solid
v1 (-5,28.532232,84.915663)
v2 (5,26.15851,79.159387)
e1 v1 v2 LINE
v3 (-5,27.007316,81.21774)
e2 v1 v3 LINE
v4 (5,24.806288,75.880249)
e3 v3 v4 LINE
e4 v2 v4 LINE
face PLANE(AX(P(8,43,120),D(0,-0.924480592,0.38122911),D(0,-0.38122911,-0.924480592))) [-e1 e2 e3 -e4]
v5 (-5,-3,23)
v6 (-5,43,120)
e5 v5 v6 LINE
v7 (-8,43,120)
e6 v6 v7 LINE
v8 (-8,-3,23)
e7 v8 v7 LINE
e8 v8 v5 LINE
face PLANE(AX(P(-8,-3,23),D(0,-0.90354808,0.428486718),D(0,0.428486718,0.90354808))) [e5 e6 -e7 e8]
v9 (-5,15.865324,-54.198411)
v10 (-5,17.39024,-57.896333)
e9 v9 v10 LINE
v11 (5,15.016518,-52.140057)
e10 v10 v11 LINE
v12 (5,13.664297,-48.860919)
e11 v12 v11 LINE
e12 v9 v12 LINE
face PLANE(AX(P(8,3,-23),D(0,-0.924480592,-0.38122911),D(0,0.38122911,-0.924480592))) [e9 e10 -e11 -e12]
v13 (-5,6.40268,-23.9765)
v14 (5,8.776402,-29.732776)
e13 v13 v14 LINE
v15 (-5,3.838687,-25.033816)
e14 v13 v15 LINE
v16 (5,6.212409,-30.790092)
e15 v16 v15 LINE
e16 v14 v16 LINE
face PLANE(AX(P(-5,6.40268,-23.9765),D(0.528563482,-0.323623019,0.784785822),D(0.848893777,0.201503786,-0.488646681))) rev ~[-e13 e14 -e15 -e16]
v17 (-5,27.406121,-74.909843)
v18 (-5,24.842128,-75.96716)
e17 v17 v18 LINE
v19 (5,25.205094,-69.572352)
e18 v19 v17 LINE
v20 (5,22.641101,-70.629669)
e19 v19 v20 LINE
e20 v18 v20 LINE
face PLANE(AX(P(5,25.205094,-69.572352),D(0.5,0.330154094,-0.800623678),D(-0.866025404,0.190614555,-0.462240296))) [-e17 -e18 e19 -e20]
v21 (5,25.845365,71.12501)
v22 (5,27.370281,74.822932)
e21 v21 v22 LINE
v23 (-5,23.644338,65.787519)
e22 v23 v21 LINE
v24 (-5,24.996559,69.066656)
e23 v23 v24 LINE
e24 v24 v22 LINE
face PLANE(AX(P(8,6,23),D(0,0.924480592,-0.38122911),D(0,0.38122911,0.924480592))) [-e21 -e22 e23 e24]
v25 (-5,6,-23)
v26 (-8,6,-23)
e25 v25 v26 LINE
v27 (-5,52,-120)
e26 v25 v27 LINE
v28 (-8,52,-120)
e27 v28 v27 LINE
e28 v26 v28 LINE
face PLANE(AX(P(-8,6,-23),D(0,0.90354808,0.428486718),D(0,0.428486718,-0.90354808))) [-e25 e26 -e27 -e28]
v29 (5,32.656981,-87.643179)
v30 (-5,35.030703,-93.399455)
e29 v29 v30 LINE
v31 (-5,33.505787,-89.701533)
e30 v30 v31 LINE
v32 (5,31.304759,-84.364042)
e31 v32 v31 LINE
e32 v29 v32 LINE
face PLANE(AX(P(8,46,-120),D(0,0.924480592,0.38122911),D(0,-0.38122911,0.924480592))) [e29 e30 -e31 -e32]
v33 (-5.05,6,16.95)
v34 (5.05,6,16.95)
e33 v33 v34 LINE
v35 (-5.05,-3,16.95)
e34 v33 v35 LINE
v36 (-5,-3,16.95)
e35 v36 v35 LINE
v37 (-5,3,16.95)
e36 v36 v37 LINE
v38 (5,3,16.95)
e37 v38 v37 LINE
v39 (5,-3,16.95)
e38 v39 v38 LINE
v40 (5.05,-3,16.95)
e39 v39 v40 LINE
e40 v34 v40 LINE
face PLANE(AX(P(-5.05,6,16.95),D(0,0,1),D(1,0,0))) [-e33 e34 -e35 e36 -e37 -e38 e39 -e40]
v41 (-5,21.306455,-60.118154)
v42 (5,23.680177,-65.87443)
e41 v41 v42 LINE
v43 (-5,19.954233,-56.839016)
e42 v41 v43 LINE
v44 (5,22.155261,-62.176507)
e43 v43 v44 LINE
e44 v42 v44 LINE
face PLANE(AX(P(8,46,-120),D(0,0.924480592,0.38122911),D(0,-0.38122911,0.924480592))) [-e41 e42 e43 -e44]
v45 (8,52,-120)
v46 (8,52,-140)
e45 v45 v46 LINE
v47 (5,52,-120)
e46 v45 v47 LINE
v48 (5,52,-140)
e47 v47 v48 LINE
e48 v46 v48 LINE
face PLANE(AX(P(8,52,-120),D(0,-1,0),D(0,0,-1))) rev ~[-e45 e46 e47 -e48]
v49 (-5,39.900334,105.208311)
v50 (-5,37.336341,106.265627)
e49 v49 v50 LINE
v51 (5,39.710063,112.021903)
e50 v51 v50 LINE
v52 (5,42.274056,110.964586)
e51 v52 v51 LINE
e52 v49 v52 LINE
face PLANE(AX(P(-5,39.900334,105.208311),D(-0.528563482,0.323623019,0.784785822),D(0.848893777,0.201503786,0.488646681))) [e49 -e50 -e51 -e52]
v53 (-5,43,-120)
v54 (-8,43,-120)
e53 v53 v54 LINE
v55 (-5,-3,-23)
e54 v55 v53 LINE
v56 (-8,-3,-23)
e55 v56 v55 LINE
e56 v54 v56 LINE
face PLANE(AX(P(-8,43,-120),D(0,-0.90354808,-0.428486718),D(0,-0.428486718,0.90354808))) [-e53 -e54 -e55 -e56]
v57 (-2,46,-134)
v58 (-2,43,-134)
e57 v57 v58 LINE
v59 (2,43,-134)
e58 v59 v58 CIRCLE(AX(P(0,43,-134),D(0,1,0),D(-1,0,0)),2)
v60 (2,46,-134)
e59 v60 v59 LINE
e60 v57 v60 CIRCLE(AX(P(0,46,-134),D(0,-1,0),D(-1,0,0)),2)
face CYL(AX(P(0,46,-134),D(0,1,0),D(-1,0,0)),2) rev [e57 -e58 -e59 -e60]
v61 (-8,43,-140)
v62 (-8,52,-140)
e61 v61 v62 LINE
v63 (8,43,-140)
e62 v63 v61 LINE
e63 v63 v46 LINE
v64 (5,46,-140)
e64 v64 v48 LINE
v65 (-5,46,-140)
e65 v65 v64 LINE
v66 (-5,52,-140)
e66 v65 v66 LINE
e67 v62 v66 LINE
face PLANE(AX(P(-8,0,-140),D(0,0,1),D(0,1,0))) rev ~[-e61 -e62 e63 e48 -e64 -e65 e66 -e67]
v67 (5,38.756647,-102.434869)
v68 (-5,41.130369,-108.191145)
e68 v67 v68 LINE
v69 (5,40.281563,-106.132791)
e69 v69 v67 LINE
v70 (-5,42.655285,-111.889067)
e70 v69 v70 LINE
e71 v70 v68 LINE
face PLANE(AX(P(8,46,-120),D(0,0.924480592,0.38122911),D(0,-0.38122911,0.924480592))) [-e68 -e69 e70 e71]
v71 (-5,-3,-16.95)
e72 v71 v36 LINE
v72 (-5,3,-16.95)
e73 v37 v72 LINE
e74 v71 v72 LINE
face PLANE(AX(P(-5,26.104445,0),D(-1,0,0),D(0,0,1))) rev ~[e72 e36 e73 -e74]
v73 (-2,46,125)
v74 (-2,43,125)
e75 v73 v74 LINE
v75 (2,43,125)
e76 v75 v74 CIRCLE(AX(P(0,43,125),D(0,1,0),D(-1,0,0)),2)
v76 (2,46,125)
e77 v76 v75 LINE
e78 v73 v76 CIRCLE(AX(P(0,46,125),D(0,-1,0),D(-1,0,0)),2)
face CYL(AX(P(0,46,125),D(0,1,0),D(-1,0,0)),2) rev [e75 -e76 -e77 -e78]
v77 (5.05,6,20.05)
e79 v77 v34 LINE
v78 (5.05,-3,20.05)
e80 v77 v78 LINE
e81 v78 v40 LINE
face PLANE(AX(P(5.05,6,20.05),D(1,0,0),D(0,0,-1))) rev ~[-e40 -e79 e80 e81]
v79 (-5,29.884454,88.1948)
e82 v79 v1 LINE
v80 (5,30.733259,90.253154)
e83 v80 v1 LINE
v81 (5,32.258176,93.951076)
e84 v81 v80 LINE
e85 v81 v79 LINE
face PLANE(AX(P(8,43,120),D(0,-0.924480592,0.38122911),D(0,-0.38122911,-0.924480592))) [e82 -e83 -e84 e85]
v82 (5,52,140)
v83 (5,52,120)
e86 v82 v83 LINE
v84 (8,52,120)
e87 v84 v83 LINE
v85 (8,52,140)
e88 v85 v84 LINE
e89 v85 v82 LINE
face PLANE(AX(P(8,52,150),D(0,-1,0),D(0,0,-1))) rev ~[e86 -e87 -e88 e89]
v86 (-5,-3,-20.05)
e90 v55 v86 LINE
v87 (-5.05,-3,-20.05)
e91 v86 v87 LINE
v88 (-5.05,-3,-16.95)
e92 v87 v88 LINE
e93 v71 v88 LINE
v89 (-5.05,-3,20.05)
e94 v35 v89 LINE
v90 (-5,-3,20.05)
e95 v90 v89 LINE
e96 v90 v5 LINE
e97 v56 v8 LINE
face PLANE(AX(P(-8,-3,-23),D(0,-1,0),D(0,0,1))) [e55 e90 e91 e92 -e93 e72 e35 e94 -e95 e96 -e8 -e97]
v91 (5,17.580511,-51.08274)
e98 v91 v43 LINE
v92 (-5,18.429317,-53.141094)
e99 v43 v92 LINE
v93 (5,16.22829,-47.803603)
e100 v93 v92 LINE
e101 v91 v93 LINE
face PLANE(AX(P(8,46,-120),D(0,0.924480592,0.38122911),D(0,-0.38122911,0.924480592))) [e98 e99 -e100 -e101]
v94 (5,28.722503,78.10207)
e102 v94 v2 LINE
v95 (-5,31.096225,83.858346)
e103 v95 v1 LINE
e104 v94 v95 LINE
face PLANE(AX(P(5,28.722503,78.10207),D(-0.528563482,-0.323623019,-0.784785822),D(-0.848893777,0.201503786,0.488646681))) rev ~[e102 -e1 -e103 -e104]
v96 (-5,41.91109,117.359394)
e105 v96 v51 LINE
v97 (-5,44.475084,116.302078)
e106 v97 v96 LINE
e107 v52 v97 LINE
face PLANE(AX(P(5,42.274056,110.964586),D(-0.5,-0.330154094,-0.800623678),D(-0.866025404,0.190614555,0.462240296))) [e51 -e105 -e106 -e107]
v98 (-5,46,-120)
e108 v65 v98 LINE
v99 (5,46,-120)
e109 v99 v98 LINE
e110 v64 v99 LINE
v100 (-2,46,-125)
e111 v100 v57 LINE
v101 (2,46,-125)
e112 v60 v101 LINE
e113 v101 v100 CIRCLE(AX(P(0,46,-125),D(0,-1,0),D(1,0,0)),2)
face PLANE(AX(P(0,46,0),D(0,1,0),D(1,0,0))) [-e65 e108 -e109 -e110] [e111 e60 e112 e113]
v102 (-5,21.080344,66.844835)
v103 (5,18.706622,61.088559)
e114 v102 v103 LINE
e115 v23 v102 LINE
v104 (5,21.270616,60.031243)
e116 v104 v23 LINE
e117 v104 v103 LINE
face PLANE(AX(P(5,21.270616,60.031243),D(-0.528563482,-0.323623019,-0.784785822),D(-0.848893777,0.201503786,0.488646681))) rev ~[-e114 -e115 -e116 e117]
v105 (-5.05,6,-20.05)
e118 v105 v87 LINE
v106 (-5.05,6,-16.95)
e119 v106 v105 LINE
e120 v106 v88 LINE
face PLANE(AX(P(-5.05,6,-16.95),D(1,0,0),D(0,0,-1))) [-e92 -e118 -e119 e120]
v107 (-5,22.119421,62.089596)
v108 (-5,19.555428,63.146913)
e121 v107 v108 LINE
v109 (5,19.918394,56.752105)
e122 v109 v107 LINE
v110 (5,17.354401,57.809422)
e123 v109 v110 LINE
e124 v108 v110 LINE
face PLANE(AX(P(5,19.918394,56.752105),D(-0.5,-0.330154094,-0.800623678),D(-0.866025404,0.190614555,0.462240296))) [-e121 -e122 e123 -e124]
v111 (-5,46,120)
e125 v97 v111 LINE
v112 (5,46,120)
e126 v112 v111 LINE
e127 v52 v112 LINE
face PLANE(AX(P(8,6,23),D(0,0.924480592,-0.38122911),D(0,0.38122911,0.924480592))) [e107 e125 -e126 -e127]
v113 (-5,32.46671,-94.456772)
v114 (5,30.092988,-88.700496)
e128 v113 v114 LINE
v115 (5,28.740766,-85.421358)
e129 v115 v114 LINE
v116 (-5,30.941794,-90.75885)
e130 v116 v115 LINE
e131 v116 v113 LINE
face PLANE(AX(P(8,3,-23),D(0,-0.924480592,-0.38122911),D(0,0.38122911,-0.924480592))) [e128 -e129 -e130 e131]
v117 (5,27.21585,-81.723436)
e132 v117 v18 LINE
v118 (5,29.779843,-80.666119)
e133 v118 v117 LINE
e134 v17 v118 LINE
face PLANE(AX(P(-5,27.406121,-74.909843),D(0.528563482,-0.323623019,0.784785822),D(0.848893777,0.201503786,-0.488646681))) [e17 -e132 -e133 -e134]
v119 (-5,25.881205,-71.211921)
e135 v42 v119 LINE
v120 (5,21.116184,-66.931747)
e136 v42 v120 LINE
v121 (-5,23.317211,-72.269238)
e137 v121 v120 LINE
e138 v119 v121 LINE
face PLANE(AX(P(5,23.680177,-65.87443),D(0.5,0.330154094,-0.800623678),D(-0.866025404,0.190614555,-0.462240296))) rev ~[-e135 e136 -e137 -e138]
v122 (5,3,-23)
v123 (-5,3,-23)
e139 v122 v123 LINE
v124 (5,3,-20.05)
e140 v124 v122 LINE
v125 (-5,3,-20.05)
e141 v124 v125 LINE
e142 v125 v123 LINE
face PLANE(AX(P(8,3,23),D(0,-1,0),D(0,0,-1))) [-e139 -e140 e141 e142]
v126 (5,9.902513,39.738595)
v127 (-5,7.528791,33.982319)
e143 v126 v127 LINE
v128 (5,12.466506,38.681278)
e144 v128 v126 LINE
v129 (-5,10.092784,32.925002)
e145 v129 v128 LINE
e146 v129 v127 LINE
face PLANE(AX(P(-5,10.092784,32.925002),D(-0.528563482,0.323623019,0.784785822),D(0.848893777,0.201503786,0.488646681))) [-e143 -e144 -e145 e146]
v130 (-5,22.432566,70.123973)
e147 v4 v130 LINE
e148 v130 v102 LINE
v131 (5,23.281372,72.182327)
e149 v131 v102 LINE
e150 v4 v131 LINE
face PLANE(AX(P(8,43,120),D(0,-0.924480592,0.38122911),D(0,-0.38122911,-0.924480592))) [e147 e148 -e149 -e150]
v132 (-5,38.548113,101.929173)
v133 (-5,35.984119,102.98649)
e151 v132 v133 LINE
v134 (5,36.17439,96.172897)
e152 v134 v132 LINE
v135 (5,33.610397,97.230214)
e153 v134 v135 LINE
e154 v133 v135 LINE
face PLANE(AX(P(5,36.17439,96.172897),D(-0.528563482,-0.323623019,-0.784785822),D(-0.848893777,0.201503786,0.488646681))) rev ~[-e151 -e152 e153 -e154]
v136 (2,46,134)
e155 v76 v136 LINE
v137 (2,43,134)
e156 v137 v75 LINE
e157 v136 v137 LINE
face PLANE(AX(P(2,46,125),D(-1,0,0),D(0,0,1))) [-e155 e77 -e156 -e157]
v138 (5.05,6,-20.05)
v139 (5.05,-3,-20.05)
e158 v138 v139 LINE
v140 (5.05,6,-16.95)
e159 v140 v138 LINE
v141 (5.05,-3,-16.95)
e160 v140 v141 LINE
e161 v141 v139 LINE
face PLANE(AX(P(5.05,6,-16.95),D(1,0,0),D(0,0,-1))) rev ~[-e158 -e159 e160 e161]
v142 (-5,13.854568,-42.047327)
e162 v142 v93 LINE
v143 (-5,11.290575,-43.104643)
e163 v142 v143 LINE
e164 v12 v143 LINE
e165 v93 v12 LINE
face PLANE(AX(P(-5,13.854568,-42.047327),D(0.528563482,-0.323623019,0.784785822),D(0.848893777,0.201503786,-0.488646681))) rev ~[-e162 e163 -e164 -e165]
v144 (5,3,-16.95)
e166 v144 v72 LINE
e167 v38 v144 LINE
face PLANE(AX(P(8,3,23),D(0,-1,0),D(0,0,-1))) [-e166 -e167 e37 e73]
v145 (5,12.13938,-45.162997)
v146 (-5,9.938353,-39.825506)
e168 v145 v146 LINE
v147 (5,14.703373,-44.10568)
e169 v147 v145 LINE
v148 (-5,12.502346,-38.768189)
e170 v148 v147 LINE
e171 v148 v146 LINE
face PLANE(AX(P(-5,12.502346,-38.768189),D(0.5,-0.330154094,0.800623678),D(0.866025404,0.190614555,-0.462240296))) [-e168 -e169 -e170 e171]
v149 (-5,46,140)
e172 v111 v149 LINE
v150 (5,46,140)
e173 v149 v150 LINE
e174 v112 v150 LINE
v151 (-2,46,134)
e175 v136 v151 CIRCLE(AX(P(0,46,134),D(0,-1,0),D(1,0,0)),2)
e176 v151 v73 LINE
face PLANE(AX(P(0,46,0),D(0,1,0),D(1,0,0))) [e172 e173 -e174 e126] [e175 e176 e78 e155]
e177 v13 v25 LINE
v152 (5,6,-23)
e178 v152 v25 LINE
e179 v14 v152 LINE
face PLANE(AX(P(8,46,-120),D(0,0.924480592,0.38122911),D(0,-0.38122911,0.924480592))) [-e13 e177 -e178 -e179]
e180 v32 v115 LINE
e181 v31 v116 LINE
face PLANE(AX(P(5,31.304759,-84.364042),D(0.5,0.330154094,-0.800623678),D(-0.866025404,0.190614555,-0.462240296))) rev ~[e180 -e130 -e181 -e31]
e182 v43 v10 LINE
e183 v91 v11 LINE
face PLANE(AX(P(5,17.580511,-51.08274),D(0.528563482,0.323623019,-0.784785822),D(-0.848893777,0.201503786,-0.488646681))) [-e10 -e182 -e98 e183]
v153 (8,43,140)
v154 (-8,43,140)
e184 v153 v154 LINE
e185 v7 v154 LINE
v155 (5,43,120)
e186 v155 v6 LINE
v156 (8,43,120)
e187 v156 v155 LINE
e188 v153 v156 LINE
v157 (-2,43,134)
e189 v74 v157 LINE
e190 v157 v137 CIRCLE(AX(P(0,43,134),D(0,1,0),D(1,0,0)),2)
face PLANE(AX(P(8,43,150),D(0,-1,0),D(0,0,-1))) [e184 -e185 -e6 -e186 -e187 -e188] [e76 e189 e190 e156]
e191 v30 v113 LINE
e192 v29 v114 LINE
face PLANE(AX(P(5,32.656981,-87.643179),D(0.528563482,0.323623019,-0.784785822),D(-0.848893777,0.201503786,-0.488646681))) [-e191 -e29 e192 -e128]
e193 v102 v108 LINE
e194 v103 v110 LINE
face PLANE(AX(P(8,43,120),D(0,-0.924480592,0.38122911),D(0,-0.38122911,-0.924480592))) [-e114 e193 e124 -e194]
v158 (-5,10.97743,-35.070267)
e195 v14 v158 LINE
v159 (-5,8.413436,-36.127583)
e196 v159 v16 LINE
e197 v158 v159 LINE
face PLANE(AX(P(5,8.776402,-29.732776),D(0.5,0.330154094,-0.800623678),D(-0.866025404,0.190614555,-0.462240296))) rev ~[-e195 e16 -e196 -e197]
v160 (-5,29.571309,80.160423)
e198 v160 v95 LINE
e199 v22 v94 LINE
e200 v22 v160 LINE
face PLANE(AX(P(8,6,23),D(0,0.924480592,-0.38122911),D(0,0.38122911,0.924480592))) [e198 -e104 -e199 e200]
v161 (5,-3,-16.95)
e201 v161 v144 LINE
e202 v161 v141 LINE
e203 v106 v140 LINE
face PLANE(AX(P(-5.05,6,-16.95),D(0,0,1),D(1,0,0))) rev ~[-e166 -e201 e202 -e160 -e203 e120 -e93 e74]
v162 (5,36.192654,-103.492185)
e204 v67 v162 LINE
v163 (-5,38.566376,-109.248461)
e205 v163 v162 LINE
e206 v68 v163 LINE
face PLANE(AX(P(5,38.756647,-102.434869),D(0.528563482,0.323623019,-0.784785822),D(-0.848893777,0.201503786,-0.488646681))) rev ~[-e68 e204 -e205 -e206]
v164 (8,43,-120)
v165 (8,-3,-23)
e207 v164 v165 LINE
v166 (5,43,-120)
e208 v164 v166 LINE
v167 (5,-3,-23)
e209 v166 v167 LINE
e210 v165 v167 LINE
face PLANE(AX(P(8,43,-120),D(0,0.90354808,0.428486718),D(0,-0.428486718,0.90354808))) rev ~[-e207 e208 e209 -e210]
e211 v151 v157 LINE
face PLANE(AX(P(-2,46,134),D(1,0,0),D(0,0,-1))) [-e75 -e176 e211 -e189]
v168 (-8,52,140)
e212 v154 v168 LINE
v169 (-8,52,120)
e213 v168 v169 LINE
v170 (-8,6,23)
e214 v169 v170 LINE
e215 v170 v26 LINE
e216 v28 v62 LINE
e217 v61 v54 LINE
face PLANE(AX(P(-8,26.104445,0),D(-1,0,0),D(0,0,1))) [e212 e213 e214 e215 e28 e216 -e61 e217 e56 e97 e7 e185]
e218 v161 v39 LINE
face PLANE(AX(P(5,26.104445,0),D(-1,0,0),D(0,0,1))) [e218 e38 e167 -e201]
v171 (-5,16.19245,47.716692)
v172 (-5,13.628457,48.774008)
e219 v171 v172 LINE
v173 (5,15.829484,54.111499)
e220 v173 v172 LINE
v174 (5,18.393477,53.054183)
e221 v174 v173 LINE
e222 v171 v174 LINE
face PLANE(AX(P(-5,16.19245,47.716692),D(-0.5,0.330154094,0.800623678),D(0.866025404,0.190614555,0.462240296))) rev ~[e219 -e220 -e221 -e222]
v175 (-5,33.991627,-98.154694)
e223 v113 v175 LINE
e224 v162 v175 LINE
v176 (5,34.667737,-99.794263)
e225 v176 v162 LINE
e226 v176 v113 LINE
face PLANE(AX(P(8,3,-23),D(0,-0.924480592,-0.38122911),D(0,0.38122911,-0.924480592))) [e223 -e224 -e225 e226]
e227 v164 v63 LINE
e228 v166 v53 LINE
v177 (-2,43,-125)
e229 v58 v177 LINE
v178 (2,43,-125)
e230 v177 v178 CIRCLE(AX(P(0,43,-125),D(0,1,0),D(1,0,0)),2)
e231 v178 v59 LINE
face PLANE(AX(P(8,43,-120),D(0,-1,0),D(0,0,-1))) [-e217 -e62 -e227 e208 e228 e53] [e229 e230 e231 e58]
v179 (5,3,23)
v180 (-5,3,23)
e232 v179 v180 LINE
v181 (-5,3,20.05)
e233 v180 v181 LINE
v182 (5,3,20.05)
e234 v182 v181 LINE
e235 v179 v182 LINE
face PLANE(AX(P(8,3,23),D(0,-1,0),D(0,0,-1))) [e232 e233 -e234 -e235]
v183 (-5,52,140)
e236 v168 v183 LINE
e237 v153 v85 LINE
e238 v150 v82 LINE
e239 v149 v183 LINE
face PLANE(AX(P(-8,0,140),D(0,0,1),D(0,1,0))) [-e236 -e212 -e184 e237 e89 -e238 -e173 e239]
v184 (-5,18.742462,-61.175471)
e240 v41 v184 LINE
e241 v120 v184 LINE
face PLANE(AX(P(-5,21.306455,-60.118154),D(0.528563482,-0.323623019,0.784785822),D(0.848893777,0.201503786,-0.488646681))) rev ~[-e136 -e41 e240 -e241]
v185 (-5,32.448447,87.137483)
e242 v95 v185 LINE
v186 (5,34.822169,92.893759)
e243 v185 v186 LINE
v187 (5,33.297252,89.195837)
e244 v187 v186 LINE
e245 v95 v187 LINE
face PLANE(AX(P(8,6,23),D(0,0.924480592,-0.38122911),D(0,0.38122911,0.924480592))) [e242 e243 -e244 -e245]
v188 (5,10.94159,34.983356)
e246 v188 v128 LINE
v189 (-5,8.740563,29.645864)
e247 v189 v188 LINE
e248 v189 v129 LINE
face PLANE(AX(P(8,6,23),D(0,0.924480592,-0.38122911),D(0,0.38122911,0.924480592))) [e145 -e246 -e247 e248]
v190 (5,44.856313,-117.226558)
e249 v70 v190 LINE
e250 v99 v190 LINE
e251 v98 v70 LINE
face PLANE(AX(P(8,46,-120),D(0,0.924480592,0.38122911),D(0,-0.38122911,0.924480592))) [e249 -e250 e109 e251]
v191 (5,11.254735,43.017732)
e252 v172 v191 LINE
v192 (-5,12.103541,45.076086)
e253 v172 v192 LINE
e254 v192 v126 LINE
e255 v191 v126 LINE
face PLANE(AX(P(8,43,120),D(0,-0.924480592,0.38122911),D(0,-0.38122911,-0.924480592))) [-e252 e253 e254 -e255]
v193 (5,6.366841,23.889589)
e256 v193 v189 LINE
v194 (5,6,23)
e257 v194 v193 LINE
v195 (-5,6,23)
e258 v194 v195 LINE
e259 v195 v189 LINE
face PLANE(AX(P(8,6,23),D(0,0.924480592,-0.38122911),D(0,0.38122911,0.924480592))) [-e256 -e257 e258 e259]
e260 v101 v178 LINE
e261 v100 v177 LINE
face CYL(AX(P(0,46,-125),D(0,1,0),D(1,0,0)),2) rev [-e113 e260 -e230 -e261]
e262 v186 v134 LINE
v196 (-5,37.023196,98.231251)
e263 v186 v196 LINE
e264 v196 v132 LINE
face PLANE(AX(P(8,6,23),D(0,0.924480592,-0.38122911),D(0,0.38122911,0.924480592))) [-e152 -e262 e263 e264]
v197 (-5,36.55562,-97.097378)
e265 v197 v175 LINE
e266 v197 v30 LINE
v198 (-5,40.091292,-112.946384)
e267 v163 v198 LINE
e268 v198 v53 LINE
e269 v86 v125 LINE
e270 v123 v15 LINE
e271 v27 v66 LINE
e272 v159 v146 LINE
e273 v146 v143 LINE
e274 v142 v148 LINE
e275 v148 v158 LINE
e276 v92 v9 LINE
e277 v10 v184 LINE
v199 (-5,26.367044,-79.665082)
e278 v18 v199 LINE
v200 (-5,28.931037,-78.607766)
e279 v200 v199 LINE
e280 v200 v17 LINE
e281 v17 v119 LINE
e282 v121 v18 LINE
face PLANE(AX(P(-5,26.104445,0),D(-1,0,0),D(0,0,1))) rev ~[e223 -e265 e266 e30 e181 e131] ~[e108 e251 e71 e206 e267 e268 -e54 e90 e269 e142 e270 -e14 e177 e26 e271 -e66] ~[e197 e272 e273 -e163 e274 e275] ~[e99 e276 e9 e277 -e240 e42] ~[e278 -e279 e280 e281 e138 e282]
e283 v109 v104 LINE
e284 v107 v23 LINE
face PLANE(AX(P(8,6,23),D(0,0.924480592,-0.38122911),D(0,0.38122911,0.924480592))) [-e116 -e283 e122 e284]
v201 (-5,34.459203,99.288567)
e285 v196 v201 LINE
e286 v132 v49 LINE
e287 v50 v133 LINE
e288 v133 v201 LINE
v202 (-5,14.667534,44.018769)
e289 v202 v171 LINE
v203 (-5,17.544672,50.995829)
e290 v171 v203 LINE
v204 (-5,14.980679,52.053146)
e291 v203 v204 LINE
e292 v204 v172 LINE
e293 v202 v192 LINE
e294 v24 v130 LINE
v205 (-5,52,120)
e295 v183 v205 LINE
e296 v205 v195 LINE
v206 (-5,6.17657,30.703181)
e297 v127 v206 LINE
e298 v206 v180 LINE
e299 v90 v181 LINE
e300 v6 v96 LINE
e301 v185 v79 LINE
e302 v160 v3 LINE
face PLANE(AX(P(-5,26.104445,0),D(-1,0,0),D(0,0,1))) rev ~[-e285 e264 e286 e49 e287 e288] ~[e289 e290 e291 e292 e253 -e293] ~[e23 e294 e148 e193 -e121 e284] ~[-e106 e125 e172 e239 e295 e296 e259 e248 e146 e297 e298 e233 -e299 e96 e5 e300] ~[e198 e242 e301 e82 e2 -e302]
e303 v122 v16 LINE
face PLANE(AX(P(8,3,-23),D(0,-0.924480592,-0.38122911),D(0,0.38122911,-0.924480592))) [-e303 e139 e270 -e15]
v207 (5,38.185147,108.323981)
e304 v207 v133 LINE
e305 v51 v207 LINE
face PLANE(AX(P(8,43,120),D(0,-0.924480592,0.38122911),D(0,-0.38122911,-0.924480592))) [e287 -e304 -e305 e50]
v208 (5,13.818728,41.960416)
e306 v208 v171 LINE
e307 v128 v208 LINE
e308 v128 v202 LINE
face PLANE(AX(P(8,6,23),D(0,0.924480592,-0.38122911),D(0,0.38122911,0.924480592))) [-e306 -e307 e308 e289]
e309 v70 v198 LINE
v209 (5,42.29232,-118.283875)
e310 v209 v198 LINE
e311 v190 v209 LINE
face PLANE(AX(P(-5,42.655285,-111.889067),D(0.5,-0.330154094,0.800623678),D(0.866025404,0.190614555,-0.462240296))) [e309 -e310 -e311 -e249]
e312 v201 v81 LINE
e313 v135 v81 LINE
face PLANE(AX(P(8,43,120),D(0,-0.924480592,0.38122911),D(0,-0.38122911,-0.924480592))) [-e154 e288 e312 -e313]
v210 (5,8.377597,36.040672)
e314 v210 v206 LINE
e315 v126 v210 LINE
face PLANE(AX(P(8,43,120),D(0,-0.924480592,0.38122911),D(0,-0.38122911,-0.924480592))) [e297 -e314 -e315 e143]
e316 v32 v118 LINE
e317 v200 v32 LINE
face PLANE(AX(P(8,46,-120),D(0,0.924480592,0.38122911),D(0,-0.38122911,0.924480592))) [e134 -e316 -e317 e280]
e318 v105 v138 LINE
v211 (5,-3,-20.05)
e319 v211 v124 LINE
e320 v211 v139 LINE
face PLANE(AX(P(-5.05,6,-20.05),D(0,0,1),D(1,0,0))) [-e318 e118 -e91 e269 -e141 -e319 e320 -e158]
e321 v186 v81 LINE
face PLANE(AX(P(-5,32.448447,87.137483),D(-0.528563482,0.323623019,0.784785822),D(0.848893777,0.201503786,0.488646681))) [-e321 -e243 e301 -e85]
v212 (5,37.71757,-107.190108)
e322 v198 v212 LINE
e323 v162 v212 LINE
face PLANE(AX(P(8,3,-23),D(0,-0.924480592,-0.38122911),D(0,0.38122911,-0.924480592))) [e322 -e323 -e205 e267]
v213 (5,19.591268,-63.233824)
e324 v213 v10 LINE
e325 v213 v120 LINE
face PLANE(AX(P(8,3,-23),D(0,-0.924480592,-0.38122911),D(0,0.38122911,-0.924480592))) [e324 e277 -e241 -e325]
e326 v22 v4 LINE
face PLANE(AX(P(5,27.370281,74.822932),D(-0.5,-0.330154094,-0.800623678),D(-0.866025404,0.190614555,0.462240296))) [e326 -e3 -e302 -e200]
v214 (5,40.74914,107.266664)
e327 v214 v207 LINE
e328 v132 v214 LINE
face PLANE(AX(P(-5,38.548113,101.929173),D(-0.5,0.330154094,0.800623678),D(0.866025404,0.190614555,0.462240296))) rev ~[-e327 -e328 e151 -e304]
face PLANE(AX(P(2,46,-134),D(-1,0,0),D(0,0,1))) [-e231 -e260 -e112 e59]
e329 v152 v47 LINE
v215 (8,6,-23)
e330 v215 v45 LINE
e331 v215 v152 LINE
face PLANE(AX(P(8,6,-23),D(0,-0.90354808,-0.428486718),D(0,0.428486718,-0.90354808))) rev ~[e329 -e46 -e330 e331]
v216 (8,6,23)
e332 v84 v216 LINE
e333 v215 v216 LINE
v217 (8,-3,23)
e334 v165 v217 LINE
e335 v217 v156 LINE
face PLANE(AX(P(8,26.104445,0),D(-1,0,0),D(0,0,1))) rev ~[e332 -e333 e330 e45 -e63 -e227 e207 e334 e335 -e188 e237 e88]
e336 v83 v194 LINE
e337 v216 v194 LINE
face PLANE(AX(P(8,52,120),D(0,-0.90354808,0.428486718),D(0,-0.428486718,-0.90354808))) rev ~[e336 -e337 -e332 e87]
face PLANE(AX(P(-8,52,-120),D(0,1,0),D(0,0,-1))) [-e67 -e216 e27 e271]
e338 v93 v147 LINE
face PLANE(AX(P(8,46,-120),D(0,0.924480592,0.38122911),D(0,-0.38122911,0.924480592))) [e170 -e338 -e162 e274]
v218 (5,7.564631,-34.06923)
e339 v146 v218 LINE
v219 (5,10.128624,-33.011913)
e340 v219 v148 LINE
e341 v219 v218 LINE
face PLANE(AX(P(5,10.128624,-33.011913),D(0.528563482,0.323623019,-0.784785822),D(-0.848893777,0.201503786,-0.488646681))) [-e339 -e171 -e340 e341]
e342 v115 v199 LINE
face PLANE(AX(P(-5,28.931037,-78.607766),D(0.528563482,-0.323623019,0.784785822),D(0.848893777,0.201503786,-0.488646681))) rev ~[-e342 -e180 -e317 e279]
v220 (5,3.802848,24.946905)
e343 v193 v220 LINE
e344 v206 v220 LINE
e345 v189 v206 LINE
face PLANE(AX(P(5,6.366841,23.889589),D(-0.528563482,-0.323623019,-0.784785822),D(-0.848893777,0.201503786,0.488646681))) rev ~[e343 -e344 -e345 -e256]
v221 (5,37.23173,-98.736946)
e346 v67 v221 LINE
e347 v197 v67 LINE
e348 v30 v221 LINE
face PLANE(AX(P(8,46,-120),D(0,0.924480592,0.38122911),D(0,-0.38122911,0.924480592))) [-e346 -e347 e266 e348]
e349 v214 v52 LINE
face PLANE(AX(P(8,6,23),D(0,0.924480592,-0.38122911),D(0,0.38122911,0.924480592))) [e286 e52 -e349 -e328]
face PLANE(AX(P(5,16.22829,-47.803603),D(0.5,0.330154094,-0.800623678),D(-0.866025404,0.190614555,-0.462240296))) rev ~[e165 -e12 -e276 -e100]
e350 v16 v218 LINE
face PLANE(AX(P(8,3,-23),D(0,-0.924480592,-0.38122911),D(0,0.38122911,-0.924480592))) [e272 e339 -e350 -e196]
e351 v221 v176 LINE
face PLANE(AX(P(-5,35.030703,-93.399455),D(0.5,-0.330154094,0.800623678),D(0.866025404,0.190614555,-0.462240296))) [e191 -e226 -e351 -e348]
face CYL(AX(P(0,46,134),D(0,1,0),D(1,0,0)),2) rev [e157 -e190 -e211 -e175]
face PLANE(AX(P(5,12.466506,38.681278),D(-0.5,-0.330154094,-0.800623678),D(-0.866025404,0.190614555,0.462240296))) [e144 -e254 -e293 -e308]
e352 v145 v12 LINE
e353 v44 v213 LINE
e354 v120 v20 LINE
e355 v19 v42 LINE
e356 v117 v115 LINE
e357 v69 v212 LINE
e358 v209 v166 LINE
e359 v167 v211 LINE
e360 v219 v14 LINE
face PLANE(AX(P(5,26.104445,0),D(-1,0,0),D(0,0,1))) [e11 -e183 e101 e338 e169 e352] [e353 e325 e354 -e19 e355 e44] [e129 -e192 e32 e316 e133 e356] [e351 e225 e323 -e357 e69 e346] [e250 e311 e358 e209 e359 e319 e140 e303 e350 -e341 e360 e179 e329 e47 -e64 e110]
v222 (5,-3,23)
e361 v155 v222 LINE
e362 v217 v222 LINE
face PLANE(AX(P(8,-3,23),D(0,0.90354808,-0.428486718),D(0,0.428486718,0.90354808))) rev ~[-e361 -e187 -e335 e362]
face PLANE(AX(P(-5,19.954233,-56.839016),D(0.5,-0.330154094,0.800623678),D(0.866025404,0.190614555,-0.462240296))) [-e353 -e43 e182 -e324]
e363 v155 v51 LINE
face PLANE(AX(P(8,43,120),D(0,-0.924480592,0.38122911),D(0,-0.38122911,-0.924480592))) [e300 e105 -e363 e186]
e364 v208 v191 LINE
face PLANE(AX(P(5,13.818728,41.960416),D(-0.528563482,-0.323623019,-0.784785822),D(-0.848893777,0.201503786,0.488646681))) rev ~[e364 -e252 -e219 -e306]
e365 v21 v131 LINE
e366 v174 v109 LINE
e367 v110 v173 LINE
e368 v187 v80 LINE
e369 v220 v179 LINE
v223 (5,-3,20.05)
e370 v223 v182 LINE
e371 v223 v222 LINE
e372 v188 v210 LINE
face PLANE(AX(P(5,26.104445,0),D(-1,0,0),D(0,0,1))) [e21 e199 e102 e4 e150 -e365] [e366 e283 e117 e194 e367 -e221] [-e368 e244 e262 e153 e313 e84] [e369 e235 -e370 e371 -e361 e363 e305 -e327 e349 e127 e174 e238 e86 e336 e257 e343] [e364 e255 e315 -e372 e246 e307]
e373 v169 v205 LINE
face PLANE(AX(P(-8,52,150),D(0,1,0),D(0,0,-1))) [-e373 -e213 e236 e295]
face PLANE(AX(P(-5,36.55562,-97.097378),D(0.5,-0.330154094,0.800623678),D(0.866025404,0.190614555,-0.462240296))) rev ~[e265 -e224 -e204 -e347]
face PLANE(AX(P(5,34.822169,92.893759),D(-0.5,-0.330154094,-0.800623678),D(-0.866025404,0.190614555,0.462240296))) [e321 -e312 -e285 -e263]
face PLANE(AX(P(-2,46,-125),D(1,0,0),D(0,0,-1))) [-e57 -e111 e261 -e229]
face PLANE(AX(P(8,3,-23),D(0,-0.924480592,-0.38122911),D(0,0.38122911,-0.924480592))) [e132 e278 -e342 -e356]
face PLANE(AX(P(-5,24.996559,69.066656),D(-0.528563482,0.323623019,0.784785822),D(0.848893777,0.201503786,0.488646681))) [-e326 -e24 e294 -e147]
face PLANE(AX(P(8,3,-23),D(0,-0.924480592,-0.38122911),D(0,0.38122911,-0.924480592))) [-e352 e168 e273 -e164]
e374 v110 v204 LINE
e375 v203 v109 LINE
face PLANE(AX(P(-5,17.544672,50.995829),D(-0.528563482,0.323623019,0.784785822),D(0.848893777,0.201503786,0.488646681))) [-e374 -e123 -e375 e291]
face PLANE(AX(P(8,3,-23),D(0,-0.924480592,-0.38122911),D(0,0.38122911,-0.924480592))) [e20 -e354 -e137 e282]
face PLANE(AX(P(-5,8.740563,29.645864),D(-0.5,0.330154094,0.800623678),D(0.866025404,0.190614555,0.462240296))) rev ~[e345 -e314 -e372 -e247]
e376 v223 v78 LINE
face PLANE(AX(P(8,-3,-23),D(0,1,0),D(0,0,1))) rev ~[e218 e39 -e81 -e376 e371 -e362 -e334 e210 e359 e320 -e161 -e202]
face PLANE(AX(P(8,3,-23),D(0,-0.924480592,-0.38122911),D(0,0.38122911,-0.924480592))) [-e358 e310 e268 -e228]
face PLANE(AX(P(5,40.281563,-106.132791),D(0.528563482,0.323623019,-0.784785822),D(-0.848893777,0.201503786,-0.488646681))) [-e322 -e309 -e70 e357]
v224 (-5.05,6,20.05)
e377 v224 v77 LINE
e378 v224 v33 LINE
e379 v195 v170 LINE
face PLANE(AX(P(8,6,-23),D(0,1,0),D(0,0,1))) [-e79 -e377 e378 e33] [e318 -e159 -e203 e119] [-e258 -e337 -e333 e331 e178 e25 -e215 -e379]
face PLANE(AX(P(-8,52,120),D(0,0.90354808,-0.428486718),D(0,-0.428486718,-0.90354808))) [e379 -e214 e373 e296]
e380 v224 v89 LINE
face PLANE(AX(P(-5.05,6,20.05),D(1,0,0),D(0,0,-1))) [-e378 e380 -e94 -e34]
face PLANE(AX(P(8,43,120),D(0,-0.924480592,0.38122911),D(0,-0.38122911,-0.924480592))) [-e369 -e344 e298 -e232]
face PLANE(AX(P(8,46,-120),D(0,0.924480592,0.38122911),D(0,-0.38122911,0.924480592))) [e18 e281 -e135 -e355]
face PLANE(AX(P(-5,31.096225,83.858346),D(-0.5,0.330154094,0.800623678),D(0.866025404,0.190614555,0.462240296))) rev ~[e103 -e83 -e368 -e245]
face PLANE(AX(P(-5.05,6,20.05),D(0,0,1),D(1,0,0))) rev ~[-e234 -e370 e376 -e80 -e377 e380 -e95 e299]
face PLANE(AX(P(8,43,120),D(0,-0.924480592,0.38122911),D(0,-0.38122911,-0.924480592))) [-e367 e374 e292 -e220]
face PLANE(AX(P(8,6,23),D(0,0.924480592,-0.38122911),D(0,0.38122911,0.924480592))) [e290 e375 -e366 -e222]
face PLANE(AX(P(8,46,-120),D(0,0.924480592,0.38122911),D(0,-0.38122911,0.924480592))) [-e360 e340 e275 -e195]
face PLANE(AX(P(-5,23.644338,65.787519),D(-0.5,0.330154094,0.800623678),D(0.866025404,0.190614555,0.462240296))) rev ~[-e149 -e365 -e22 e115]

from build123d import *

# Parameters (mm, degrees)
BASESKETCH_W             = 16
BASESKETCH_H             = 300
BASE_DEPTH               = 46
SHAPESKETCH_OUTSIDE_W    = 362.786
SHAPESKETCH_OUTSIDE_H    = 108.786
SHAPE_DEPTH              = 17
SUPPORTR_DEPTH           = 3
SUPPORTL_START           = -16
SUPPORTL_DEPTH           = 3
CONNECTIONCENTERSKETCH_W = 10.1
CONNECTIONCENTERSKETCH_H = 3.1
CONNECTIONCENTER_DEPTH   = 10
WEIGHTL_DEPTH            = 57.736422329
WEIGHTR_DEPTH            = 57.736422329
CONNECTIONEND_DEPTH      = 7
CONNECTIONEND_DEPTH_BACK = 50
SHORTNERSKETCH_W         = 17.734474479
SHORTNERSKETCH_H         = 84.123631353
SHORTNERSKETCH_W_2       = 27.514011897
SHORTNERSKETCH_H_2       = 94.21863772
CUT_EXTRUDE1_DEPTH       = 17


with BuildPart() as part:
    # BaseSketch → Base (new body)
    with BuildSketch(Plane(origin=(0, 0, 0), x_dir=(1, 0, 0), z_dir=(0, 1, 0))):
        Rectangle(BASESKETCH_W, BASESKETCH_H)
    extrude(amount=BASE_DEPTH)

    # ShapeSketch outside → Shape (cut, through all)
    with BuildSketch(Plane(origin=(8, 0, 0), x_dir=(0, 0, -1), z_dir=(1, 0, 0))):
        with Locations((0, 23)):
            Rectangle(SHAPESKETCH_OUTSIDE_W, SHAPESKETCH_OUTSIDE_H)
        Polygon((-23, 3), (23, 3), (120, 43), (150, 43), (150, 46), (120, 46), (23, 6), (-23, 6), (-120, 46), (-150, 46), (-150, 43), (-120, 43), align=None, mode=Mode.SUBTRACT)
    extrude(amount=-SHAPE_DEPTH, mode=Mode.SUBTRACT)

    # SupportSketch → SupportR (add)
    with BuildSketch(Plane.ZY.offset(8)):
        Polygon((-150, 52), (-150, 43), (-120, 43), (-23, -3), (23, -3), (120, 43), (150, 43), (150, 52), (120, 52), (23, 6), (-23, 6), (-120, 52), align=None)
    extrude(amount=-SUPPORTR_DEPTH)

    # SupportSketch<3> → SupportL (add)
    with BuildSketch(Plane.ZY.offset(8).offset(SUPPORTL_START)):
        Polygon((-150, 52), (-150, 43), (-120, 43), (-23, -3), (23, -3), (120, 43), (150, 43), (150, 52), (120, 52), (23, 6), (-23, 6), (-120, 52), align=None)
    extrude(amount=SUPPORTL_DEPTH)

    # ConnectionCenterSketch → ConnectionCenter (cut, through all)
    with BuildSketch(Plane(origin=(0, 6, 0), x_dir=(1, 0, 0), z_dir=(0, 1, 0))):
        with Locations((0, -18.5)):
            Rectangle(CONNECTIONCENTERSKETCH_W, CONNECTIONCENTERSKETCH_H)
        with Locations((0, 18.5)):
            Rectangle(CONNECTIONCENTERSKETCH_W, CONNECTIONCENTERSKETCH_H)
    extrude(amount=-CONNECTIONCENTER_DEPTH, mode=Mode.SUBTRACT)

    # WeightLSketch → WeightL (cut, through all)
    with BuildSketch(Plane(origin=(0, -2.97810882, 1.228086111), x_dir=(1, 0, 0), z_dir=(0, 0.924480592, -0.38122911))):
        Polygon((-5, -124.474210145), (-5, -112.474210145), (5, -118.700707453), align=None)
        Polygon((5, -114.700707453), (5, -102.700707453), (-5, -108.927204761), align=None)
        Polygon((-5, -104.927204761), (-5, -92.927204761), (5, -99.153702069), align=None)
        Polygon((5, -95.153702069), (5, -83.153702069), (-5, -89.380199377), align=None)
        Polygon((5, -79.606696685), (-5, -85.380199377), (-5, -73.380199377), align=None)
        Polygon((5, -75.606696685), (5, -63.606696685), (-5, -69.833193994), align=None)
        Polygon((-5, -46.28618861), (-5, -34.28618861), (5, -40.512685918), align=None)
        Polygon((-5, -65.833193994), (-5, -53.833193994), (5, -60.059691302), align=None)
        Polygon((5, -56.059691302), (5, -44.059691302), (-5, -50.28618861), align=None)
        Polygon((5, -36.512685918), (5, -24.512685918), (-5, -30.739183226), align=None)
    extrude(amount=-WEIGHTL_DEPTH, mode=Mode.SUBTRACT)

    # WeightRSketch → WeightR (cut, through all)
    with BuildSketch(Plane(origin=(0, -2.97810882, -1.228086111), x_dir=(1, 0, 0), z_dir=(0, 0.924480592, 0.38122911))):
        Polygon((5, 125.474210145), (5, 113.474210145), (-5, 119.700707453), align=None)
        Polygon((-5, 115.700707453), (-5, 103.700707453), (5, 109.474210145), align=None)
        Polygon((5, 105.474210145), (5, 93.474210145), (-5, 99.700707453), align=None)
        Polygon((-5, 95.700707453), (-5, 83.700707453), (5, 89.927204761), align=None)
        Polygon((5, 85.927204761), (5, 73.927204761), (-5, 79.700707453), align=None)
        Polygon((-5, 75.700707453), (-5, 63.700707453), (5, 69.927204761), align=None)
        Polygon((5, 65.927204761), (5, 53.927204761), (-5, 60.153702069), align=None)
        Polygon((-5, 56.153702069), (-5, 44.153702069), (5, 50.380199377), align=None)
        Polygon((5, 46.380199377), (5, 34.380199377), (-5, 40.606696685), align=None)
        Polygon((-5, 36.606696685), (-5, 24.606696685), (5, 30.833193994), align=None)
    extrude(amount=-WEIGHTR_DEPTH, mode=Mode.SUBTRACT)

    # ConnectionEndSketch → ConnectionEnd (cut, two sides)
    with BuildSketch(Plane(origin=(0, 46, 0), x_dir=(1, 0, 0), z_dir=(0, 1, 0))) as connectionend_sk:
        with BuildLine():
            Line((2, 134), (2, 125))
            ThreePointArc((2, 125), (0, 123), (-2, 125))
            Line((-2, 125), (-2, 134))
            ThreePointArc((-2, 134), (0, 136), (2, 134))
        make_face()
        with BuildLine():
            Line((-2, -134), (-2, -125))
            ThreePointArc((-2, -125), (0, -123), (2, -125))
            Line((2, -125), (2, -134))
            ThreePointArc((2, -134), (0, -136), (-2, -134))
        make_face()
    extrude(amount=CONNECTIONEND_DEPTH, mode=Mode.SUBTRACT)
    extrude(connectionend_sk.sketch, amount=-CONNECTIONEND_DEPTH_BACK, mode=Mode.SUBTRACT)

    # ShortnerSketch → Cut-Extrude1 (cut, through all)
    with BuildSketch(Plane.ZY.offset(8)):
        with Locations((-148.86723724, 42.061815677)):
            Rectangle(SHORTNERSKETCH_W, SHORTNERSKETCH_H)
        with Locations((153.757005949, 47.10931886)):
            Rectangle(SHORTNERSKETCH_W_2, SHORTNERSKETCH_H_2)
    extrude(amount=-CUT_EXTRUDE1_DEPTH, mode=Mode.SUBTRACT)


solid = part.part
